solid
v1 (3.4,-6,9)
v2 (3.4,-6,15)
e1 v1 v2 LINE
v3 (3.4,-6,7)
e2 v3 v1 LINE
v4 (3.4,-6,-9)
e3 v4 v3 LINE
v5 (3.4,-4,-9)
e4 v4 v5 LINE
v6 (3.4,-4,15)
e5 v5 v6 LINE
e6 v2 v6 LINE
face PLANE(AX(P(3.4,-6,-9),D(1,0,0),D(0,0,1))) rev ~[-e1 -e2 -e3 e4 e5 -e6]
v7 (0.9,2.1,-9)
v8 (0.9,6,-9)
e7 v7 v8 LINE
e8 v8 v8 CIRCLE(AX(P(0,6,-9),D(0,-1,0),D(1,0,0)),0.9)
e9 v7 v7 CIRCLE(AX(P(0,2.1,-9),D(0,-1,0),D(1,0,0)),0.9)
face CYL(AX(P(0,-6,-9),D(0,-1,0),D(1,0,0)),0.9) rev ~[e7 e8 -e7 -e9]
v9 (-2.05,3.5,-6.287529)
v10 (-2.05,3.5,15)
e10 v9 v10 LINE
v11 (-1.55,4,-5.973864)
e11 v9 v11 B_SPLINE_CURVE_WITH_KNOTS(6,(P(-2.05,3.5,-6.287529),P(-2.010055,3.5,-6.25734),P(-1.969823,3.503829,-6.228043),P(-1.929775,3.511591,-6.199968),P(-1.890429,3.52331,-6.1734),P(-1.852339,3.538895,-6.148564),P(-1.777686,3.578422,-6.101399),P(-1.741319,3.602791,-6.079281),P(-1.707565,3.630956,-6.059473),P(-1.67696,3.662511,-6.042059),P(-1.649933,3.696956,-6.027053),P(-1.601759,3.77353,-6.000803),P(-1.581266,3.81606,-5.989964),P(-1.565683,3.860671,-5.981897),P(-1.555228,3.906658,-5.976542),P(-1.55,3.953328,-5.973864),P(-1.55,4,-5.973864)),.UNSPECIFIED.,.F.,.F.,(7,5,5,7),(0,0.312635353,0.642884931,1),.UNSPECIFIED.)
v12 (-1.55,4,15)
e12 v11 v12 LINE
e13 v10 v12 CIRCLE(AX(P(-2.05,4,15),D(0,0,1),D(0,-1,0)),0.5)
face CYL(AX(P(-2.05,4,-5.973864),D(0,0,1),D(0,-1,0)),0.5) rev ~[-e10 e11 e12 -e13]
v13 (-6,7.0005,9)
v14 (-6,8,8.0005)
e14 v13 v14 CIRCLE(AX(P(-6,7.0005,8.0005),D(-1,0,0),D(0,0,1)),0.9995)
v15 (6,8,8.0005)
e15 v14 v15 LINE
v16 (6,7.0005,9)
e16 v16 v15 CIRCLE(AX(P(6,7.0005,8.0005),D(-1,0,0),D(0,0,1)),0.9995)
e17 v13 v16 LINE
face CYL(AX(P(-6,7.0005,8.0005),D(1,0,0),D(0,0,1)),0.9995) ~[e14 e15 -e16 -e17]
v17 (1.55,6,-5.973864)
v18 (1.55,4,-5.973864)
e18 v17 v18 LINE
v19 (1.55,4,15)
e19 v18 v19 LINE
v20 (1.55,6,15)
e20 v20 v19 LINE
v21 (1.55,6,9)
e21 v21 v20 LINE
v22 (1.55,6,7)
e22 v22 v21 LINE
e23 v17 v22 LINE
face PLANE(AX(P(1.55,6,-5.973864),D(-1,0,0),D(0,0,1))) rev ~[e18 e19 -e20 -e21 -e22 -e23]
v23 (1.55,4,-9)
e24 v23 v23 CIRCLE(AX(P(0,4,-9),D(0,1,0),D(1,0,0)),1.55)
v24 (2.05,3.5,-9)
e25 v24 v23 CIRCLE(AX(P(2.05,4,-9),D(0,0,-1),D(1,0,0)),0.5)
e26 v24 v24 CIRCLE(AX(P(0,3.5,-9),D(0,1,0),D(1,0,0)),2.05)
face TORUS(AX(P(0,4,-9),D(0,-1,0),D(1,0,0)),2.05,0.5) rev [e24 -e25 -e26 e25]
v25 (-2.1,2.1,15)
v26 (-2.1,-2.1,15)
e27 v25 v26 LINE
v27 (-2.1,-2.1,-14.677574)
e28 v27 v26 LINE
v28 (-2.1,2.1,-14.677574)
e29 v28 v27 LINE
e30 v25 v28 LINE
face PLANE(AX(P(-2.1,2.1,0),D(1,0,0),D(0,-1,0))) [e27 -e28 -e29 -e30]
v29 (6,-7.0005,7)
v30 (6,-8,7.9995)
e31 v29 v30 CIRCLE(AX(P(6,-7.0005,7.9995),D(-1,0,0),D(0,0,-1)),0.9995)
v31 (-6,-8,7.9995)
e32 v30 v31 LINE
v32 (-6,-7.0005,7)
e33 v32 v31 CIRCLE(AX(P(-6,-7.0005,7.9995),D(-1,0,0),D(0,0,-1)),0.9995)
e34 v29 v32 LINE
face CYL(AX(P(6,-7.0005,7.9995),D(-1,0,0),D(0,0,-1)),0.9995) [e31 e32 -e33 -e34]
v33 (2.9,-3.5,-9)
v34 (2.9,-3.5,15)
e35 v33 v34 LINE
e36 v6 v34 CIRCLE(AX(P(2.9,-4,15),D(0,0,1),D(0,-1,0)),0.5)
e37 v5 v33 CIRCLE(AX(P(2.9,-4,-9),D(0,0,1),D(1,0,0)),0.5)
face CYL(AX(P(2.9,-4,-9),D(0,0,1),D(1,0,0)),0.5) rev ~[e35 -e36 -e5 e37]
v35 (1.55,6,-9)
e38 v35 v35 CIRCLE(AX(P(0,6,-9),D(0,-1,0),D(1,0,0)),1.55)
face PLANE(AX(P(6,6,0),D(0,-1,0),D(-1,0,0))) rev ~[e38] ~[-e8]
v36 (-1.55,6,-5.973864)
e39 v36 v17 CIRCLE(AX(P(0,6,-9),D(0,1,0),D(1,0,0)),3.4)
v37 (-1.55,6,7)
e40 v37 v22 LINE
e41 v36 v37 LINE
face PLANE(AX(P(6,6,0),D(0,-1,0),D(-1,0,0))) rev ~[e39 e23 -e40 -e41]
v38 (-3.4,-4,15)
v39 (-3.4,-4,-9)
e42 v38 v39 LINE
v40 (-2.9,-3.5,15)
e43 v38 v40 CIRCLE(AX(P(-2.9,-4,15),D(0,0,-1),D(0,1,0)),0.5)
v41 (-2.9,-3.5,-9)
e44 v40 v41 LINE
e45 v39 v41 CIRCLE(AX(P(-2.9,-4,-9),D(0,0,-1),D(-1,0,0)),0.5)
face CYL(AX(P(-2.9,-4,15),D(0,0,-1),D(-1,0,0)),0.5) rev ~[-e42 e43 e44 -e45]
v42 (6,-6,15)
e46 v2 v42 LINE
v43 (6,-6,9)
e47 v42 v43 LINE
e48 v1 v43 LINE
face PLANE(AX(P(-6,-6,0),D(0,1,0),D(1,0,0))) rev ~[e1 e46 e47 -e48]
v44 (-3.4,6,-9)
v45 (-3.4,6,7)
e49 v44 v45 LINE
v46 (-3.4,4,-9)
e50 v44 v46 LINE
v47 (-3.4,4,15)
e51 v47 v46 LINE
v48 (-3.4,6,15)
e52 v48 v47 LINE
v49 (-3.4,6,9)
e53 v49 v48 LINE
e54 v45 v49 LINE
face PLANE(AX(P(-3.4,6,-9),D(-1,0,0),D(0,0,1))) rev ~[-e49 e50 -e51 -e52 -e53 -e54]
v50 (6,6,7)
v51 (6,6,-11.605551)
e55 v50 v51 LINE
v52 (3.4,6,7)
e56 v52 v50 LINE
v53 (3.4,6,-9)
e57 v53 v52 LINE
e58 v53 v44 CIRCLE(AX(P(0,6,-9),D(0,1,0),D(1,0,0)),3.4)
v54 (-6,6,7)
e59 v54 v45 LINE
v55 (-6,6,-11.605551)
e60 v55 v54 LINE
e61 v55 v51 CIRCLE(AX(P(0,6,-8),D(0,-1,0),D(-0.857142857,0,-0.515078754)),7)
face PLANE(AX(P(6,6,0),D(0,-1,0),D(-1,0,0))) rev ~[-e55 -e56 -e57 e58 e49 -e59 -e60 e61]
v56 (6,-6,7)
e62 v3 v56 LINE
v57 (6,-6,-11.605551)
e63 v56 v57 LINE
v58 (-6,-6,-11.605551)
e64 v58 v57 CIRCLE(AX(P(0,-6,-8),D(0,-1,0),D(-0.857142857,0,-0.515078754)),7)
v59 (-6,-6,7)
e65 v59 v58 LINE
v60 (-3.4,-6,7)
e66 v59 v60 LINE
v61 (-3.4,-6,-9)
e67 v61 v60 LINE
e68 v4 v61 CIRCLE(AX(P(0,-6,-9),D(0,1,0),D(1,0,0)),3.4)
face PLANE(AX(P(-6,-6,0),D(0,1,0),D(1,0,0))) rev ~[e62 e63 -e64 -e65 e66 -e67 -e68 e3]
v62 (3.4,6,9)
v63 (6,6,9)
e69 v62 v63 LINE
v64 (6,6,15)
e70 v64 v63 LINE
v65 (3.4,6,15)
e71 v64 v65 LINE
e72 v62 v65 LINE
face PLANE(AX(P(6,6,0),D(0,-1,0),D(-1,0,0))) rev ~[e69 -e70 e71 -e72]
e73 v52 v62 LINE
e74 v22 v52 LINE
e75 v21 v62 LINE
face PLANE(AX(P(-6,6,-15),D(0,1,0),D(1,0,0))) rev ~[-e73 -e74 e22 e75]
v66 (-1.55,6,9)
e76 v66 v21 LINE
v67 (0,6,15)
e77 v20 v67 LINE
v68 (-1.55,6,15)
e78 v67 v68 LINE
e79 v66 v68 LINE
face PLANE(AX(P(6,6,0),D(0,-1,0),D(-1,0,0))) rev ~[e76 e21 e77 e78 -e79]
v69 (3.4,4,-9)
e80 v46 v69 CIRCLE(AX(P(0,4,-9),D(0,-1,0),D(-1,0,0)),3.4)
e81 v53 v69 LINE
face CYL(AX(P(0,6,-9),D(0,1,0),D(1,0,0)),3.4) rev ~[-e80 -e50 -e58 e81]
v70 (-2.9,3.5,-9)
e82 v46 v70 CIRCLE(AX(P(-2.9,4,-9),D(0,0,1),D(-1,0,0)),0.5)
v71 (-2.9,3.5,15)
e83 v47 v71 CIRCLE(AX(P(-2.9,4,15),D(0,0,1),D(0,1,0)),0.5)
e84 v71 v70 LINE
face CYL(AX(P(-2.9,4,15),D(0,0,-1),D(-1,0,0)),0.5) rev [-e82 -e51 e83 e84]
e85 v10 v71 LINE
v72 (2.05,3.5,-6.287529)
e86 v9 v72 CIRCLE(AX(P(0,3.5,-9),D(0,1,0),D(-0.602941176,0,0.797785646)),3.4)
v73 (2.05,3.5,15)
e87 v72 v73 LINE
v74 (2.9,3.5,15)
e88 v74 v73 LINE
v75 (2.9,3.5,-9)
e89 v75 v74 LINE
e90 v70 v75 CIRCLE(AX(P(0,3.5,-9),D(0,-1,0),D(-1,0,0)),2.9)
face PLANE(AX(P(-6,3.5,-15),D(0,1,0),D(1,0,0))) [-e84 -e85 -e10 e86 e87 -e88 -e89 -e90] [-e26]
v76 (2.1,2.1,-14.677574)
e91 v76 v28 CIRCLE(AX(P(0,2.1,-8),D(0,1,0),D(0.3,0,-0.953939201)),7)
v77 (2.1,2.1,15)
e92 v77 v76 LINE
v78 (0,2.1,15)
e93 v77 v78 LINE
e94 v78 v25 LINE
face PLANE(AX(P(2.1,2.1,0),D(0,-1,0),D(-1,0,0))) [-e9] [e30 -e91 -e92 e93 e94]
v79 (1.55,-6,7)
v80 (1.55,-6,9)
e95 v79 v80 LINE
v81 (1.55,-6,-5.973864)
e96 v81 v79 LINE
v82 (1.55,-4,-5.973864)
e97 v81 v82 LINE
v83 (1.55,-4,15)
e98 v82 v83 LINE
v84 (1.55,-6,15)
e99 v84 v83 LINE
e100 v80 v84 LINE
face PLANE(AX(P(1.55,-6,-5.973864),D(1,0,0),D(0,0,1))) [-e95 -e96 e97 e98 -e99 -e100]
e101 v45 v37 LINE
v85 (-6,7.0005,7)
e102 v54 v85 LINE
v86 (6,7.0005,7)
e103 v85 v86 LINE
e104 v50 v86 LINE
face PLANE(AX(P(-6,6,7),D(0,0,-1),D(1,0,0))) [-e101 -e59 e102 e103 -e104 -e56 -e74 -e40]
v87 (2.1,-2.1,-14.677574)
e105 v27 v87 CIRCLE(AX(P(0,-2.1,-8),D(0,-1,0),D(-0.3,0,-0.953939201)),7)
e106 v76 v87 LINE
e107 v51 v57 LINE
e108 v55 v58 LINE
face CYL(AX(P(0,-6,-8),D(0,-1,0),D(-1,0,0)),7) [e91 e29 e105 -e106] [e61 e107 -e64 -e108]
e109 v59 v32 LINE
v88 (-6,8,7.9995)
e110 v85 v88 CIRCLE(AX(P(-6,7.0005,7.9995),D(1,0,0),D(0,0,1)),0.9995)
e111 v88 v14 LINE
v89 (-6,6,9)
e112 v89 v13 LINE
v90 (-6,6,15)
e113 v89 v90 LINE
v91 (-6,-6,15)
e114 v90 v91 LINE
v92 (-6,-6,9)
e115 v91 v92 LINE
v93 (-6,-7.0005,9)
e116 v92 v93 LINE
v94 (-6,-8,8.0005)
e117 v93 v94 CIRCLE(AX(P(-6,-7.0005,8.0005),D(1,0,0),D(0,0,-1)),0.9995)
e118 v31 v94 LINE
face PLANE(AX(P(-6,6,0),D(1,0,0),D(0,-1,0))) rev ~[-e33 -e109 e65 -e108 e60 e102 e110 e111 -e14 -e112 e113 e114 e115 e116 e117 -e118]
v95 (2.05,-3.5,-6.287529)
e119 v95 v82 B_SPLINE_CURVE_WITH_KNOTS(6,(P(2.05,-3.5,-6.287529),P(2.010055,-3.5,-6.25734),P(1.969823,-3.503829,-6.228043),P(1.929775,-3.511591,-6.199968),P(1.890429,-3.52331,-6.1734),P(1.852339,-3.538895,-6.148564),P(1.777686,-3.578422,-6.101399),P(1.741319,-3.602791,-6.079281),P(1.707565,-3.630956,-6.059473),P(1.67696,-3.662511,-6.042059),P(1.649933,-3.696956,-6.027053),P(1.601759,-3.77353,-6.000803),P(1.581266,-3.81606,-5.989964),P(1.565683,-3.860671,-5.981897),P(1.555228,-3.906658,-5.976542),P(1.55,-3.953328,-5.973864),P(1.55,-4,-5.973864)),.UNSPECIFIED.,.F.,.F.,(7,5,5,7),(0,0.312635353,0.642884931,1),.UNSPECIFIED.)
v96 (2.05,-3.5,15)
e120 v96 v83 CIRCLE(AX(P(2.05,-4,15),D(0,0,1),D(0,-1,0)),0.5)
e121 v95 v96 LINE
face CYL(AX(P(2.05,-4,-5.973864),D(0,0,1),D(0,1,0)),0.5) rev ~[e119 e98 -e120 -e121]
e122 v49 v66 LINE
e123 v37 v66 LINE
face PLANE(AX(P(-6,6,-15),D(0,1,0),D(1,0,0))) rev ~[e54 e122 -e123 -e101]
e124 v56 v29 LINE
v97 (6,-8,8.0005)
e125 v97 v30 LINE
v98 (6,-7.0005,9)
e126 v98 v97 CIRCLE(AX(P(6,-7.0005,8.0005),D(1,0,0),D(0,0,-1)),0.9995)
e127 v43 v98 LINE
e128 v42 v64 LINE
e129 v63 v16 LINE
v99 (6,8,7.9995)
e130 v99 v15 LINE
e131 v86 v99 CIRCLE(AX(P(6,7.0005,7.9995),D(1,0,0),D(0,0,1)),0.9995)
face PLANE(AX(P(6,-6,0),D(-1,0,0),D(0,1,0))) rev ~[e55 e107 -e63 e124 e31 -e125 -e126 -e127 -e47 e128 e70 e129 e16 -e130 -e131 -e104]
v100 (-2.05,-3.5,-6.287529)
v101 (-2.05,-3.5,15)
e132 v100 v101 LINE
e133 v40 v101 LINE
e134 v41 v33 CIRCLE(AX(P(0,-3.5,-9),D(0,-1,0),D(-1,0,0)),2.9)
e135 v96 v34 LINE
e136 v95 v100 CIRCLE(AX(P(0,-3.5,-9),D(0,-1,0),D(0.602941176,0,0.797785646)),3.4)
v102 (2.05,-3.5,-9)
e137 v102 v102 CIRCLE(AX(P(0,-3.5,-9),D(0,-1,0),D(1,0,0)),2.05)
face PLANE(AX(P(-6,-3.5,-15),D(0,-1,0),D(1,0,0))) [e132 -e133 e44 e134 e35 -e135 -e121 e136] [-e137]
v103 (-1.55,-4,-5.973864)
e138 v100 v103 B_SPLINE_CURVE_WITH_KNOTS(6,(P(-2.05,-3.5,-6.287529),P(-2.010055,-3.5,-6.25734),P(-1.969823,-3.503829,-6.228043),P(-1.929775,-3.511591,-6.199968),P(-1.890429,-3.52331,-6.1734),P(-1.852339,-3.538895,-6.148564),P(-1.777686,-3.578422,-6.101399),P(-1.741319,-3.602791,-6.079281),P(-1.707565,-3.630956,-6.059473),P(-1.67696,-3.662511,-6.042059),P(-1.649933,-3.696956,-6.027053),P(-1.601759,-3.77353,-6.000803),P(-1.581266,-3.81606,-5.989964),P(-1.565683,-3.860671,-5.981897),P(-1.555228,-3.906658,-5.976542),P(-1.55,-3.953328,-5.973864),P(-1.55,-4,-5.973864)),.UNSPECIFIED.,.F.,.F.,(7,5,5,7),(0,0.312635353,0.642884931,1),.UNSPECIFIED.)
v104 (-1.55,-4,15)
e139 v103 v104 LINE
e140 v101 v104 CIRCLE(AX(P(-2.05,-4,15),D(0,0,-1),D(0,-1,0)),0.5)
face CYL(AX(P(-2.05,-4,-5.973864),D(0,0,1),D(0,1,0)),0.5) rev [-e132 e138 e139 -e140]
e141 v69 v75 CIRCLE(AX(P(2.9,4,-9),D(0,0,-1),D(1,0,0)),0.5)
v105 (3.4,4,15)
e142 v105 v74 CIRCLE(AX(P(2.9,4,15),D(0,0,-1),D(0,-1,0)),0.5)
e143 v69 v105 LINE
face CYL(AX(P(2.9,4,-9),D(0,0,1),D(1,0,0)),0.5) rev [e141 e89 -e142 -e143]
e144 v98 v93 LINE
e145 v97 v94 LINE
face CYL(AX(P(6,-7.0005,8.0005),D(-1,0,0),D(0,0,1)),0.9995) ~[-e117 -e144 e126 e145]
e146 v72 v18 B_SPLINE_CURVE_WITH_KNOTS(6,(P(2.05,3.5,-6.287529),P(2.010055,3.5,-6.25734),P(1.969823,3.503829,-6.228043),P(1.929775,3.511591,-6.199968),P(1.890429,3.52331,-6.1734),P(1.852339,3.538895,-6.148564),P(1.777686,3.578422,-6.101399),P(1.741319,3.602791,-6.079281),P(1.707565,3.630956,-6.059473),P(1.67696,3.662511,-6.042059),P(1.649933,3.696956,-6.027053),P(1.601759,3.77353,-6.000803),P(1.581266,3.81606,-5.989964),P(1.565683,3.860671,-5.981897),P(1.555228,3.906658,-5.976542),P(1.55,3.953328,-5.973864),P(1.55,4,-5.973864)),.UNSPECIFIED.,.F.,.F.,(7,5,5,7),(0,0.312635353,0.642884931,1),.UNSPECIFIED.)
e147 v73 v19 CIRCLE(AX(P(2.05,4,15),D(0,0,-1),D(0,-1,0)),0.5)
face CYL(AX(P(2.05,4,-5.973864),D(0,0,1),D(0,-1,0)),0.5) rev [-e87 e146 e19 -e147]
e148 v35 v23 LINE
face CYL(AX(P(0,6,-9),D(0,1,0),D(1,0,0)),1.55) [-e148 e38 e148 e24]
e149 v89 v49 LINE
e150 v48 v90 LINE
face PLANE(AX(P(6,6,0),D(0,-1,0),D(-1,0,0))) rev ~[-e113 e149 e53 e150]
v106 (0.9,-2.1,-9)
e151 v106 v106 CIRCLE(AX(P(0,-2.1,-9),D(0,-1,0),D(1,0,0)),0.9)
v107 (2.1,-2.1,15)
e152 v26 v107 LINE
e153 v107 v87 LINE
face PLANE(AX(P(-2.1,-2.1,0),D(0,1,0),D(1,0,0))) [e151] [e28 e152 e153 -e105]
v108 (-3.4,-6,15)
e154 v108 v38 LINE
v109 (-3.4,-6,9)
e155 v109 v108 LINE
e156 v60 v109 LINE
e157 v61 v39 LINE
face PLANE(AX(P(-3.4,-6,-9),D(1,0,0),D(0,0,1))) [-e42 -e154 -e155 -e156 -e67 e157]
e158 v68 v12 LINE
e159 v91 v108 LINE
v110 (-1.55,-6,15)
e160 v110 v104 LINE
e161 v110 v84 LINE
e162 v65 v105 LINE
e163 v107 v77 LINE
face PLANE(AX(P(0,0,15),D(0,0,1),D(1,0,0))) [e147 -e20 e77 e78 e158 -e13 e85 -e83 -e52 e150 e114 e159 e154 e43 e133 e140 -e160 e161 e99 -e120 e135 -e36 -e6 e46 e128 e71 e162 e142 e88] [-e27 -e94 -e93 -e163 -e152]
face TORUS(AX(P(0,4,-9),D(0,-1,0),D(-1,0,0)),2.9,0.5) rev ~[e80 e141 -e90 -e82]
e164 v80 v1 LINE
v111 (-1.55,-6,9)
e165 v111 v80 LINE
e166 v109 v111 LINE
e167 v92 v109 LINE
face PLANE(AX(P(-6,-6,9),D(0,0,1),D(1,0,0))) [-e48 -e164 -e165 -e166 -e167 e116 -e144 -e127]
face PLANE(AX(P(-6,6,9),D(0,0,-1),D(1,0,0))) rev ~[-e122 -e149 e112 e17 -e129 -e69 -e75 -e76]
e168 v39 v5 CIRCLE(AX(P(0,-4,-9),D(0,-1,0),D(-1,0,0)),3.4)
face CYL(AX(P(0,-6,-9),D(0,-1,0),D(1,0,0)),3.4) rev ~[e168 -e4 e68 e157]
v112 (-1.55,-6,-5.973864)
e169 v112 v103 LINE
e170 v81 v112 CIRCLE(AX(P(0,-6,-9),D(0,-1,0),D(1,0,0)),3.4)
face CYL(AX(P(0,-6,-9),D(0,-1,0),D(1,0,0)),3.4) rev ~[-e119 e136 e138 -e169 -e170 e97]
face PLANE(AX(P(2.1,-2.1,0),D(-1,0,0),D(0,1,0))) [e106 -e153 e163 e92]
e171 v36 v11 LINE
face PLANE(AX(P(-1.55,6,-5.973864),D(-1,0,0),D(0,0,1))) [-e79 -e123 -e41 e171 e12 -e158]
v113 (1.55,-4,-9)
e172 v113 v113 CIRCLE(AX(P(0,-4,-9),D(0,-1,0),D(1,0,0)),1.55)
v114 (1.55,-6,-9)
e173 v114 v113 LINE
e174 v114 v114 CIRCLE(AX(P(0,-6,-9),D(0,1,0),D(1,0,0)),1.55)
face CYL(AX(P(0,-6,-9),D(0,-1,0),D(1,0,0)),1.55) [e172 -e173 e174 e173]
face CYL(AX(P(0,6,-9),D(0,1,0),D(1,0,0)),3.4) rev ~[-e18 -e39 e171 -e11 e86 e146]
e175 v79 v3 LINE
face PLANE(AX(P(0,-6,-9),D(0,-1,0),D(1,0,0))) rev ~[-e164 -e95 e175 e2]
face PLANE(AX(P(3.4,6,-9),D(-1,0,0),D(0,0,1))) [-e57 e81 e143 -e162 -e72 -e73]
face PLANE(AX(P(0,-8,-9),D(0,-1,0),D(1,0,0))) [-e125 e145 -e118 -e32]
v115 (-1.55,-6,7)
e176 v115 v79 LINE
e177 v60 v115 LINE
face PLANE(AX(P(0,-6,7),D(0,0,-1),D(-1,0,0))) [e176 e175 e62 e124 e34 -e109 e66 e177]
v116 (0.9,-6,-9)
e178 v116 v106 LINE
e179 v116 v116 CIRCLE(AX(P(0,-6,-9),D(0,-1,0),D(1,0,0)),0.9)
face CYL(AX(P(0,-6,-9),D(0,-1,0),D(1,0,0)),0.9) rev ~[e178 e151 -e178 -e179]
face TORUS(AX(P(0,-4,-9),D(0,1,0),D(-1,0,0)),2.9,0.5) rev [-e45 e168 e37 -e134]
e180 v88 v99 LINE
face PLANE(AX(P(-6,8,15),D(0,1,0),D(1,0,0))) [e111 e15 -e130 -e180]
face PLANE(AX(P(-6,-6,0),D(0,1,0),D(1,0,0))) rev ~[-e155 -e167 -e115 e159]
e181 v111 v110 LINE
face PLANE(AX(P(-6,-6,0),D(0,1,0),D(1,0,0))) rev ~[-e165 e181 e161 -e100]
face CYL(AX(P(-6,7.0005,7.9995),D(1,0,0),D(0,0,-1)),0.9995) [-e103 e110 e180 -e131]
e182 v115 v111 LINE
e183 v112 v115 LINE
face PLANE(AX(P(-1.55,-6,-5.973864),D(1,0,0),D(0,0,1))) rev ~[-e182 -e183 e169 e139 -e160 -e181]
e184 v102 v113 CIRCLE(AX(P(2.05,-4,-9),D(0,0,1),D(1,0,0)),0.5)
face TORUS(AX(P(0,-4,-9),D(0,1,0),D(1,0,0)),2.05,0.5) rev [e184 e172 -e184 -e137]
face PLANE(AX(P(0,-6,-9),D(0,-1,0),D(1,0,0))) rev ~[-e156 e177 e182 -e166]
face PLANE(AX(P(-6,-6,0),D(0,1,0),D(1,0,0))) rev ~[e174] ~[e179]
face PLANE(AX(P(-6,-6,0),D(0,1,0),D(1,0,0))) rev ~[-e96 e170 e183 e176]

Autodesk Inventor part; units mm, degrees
ref_plane "YZ Plane" through (0, 0, 0) normal (1, 0, 0) x (0, 1, 0)
ref_plane "XY Plane" through (0, 0, 0) normal (0, 0, 1) x (1, 0, 0)
sketch "Sketch1" plane through (0, 0, 0) normal (0, 0, 1) x (1, 0, 0)
  line L0 (-2.1, -2.1) -> (2.1, -2.1)
  line L1 (2.1, -2.1) -> (2.1, 2.1)
  line L2 (2.1, 2.1) -> (-2.1, 2.1)
  line L3 (-2.1, 2.1) -> (-2.1, -2.1)
  line L4 (-2.1, -2.1) -> (2.1, 2.1) construction
  line L5 (2.1, -2.1) -> (-2.1, 2.1) construction
  line L6 (-6, -6) -> (6, -6)
  line L7 (6, -6) -> (6, 6)
  line L8 (6, 6) -> (-6, 6)
  line L9 (-6, 6) -> (-6, -6)
  line L10 (-6, -6) -> (6, 6) construction
  line L11 (6, -6) -> (-6, 6) construction
  line L12 (0, 6) -> (0, 2.1)
  point P0 (0, 0)
  dimension "d0" = 4.2
  dimension "d1" = 4.2
  dimension "d2" = 12
  dimension "d3" = 12
  dimension "d93" = 3.9
extrude "Extrusion1" add sketch "Sketch1" along normal mid plane 30
sketch "Sketch2" plane through (-6, 6, 15) normal (0, 1, 0) x (1, 0, 0)
  line L0 (0, 30) -> (0, 0) projected
  line L1 (0, 0) -> (0, 6)
  line L2 (0, 0) -> (0, 8)
  line L3 (0, 6) -> (12, 6)
  line L4 (12, 30) -> (12, 0) projected
  line L5 (0, 8) -> (12, 8)
  line L6 (12, 6) -> (12, 8)
  point P0 (6, 15)
  dimension "d6" = 6
  dimension "d7" = 8
  dimension "d8" = 2
extrude "Extrusion2" add sketch "Sketch2" along normal blind 2
sketch "Sketch3" plane through (-6, 6, -15) normal (0, 1, 0) x (1, 0, 0)
  line L0 (0, 0) -> (0, -30) projected
  line L1 (12, -30) -> (12, 0) projected
  line L2 (0, 0) -> (0, -22) projected
  line L3 (12, -30) -> (0, -30) projected
  line L4 (9.1, -31) -> (2.9, -31)
  line L5 (6, -6) -> (6, 0)
  circle A0 centre (6, -6) radius 1.55
  line L6 (2.8, -31) -> (4, -31)
  line L7 (9.2, -31) -> (8, -31)
  circle A1 centre (6, -6) radius 3.4
  line L8 (2.6, -6) -> (2.6, -31)
  line L9 (2.6, -6) -> (27.6, -6) construction
  line L10 (2.6, -31) -> (4, -31)
  line L11 (9.4, -6) -> (9.4, -31)
  line L12 (9.4, -6) -> (34.4, -6) construction
  line L13 (9.4, -31) -> (8, -31)
  line L14 (4.45, -6) -> (4.45, -31)
  line L15 (4.45, -6) -> (29.45, -6) construction
  line L16 (7.55, -6) -> (7.55, -31)
  line L17 (7.55, -6) -> (32.55, -6) construction
  point P0 (6, -15)
  point P1 (9.4, -30)
  point P2 (2.6, -30)
  point P3 (4.45, -30)
  point P4 (4.45, -9.0261)
  point P5 (7.55, -9.0261)
  point P6 (7.55, -30)
  dimension "d139" = 6
  dimension "d145" = 3.1
  dimension "d183" = 6.8
  dimension "d184" = 90
  dimension "d185" = 90
  dimension "d190" = 90
  dimension "d191" = 90
  dimension "d204" = 6
extrude "Extrusion3" cut sketch "Sketch3" against normal blind 2.5 contours L3 L16 A1 L11 | A1 L16 A0 L5 | L3 L8 A1 L14 | A1 L14 A0 L16 | L5 A0 L14 A1
ref_plane "Work Plane3" through (0, -6, 0) normal (0, 1, 0) x (-1, 0, 0)
sketch "Sketch16" plane through (-6, -6, -15) normal (0, -1, 0) x (1, 0, 0)
  line L0 (12, 0) -> (0, 0) projected
  line L1 (0, 0) -> (6, 0)
  line L2 (6, 0) -> (6, 6)
  circle A0 centre (6, 6) radius 1.55
  arc A1 (7.55, 6) -> (7.55, 6) centre (6, 6) ccw projected
  line L3 (10.2, 6) -> (36.7126, 6) construction
  line L4 (8.95, 32.5126) -> (7.75, 32.5126)
  line L5 (2.8, 6) -> (29.3126, 6) construction
  line L6 (7.55, 6) -> (9.4, 6)
  circle A2 centre (6, 6) radius 3.4
  line L7 (9.4, 6) -> (9.4, 32.5126)
  line L8 (9.4, 6) -> (35.9126, 6) construction
  line L9 (9.4, 32.5126) -> (7.75, 32.5126)
  line L10 (2.6, 6) -> (2.6, 32.5126)
  line L11 (2.6, 6) -> (29.1126, 6) construction
  line L12 (7.55, 6) -> (7.55, 32.5126)
  line L13 (7.55, 6) -> (34.0626, 6) construction
  line L14 (7.55, 32.5126) -> (9.4, 32.5126)
  line L15 (4.45, 6) -> (4.45, 32.5126)
  line L16 (4.45, 6) -> (30.9626, 6) construction
  line L17 (4.45, 32.5126) -> (2.6, 32.5126)
  point P0 (10.1, 6)
  point P1 (4.45, 9.0261)
  point P2 (7.55, 9.0261)
  dimension "d155" = 6
  dimension "d156" = 6
  dimension "d181" = 90
  dimension "d182" = 90
  dimension "d187" = 3.1
  dimension "d188" = 90
  dimension "d189" = 90
  dimension "d198" = 6.8
extrude "Extrusion12" cut sketch "Sketch16" against normal blind 2.5 contours A2 L15 A0 L2 | L2 A0 L6 A2 | L10 L17 L15 A2 | L6 L12 A2 | A2 L12 L14 L4 L9 L7 | L15 A2 L12 A0
sketch "Sketch17" plane through (0, -6, -9) normal (0, -1, 0) x (1, 0, 0)
  circle A0 centre (0, 0) radius 0.9
  point P0 (0, 9)
  point P1 (3.1, 0)
  dimension "d186" = 1.8
extrude "Extrusion13" cut sketch "Sketch17" against normal through all
sketch "Sketch18" plane through (0, -6, -9) normal (0, -1, 0) x (1, 0, 0)
  line L0 (0, 0) -> (0, 1)
  arc A0 (-7, 1) -> (7, 1) centre (0, 1) ccw
  line L1 (0, 1) -> (7, 1)
  line L2 (0, 1) -> (-7, 1)
  line L3 (7, 1) -> (7, -9.6793)
  line L4 (7, -9.6793) -> (-7, -9.6793)
  line L5 (-7, -9.6793) -> (-7, 1)
  point P0 (0, 9)
  dimension "d167" = 1
extrude "Extrusion14" cut sketch "Sketch18" against normal through all contours A0 L3 L4 L5
fillet "Fillet11" radius 1 2 edges at (0, 8, 7) (0, 8, 9)
fillet "Fillet12" radius 0.5 12 edges at (3.4, 3.5, 3) (-3.4, 3.5, 3) (0, 3.5, -12.4) (-1.55, 3.5, -9) (1.55, 3.5, 4.5131) (-1.55, 3.5, 4.5131) (0, -3.5, -12.4) (3.4, -3.5, 3) (-3.4, -3.5, 3) (-1.55, -3.5, -9) (1.55, -3.5, 4.5131) (-1.55, -3.5, 4.5131)
sketch "Sketch19" plane through (0, -6, -9) normal (0, -1, 0) x (1, 0, 0)
  line L0 (0, 0) -> (0, 24)
  line L1 (1.55, 24) -> (-1.55, 24) projected
  line L2 (3.4, 24) -> (6, 24) projected
  line L3 (0, 24) -> (6, 24)
  line L4 (6, 24) -> (6, 18)
  line L5 (3.4, 16) -> (6, 16) projected
  line L6 (-6, 16) -> (-3.4, 16) projected
  line L7 (6, 16) -> (-6, 16)
  line L8 (-6, 16) -> (-6, 18) projected
  line L9 (-6, 16) -> (-6, 18)
  line L10 (-6, 18) -> (6, 18)
  line L11 (6, 18) -> (6, 15.7444)
  point P0 (0, 9)
  point P1 (6, 16)
  point P2 (-3.4, 16)
  point P3 (3.4, 16)
  dimension "d194" = 6
extrude "Extrusion15" add sketch "Sketch19" along normal blind 2 contours L7 L6 L8 L10 L0 | L0 L10 L11 L5 L7
fillet "Fillet13" radius 1 2 edges at (0, -8, 7) (0, -8, 9)
properties part number "Nedre del av kne proto1"
